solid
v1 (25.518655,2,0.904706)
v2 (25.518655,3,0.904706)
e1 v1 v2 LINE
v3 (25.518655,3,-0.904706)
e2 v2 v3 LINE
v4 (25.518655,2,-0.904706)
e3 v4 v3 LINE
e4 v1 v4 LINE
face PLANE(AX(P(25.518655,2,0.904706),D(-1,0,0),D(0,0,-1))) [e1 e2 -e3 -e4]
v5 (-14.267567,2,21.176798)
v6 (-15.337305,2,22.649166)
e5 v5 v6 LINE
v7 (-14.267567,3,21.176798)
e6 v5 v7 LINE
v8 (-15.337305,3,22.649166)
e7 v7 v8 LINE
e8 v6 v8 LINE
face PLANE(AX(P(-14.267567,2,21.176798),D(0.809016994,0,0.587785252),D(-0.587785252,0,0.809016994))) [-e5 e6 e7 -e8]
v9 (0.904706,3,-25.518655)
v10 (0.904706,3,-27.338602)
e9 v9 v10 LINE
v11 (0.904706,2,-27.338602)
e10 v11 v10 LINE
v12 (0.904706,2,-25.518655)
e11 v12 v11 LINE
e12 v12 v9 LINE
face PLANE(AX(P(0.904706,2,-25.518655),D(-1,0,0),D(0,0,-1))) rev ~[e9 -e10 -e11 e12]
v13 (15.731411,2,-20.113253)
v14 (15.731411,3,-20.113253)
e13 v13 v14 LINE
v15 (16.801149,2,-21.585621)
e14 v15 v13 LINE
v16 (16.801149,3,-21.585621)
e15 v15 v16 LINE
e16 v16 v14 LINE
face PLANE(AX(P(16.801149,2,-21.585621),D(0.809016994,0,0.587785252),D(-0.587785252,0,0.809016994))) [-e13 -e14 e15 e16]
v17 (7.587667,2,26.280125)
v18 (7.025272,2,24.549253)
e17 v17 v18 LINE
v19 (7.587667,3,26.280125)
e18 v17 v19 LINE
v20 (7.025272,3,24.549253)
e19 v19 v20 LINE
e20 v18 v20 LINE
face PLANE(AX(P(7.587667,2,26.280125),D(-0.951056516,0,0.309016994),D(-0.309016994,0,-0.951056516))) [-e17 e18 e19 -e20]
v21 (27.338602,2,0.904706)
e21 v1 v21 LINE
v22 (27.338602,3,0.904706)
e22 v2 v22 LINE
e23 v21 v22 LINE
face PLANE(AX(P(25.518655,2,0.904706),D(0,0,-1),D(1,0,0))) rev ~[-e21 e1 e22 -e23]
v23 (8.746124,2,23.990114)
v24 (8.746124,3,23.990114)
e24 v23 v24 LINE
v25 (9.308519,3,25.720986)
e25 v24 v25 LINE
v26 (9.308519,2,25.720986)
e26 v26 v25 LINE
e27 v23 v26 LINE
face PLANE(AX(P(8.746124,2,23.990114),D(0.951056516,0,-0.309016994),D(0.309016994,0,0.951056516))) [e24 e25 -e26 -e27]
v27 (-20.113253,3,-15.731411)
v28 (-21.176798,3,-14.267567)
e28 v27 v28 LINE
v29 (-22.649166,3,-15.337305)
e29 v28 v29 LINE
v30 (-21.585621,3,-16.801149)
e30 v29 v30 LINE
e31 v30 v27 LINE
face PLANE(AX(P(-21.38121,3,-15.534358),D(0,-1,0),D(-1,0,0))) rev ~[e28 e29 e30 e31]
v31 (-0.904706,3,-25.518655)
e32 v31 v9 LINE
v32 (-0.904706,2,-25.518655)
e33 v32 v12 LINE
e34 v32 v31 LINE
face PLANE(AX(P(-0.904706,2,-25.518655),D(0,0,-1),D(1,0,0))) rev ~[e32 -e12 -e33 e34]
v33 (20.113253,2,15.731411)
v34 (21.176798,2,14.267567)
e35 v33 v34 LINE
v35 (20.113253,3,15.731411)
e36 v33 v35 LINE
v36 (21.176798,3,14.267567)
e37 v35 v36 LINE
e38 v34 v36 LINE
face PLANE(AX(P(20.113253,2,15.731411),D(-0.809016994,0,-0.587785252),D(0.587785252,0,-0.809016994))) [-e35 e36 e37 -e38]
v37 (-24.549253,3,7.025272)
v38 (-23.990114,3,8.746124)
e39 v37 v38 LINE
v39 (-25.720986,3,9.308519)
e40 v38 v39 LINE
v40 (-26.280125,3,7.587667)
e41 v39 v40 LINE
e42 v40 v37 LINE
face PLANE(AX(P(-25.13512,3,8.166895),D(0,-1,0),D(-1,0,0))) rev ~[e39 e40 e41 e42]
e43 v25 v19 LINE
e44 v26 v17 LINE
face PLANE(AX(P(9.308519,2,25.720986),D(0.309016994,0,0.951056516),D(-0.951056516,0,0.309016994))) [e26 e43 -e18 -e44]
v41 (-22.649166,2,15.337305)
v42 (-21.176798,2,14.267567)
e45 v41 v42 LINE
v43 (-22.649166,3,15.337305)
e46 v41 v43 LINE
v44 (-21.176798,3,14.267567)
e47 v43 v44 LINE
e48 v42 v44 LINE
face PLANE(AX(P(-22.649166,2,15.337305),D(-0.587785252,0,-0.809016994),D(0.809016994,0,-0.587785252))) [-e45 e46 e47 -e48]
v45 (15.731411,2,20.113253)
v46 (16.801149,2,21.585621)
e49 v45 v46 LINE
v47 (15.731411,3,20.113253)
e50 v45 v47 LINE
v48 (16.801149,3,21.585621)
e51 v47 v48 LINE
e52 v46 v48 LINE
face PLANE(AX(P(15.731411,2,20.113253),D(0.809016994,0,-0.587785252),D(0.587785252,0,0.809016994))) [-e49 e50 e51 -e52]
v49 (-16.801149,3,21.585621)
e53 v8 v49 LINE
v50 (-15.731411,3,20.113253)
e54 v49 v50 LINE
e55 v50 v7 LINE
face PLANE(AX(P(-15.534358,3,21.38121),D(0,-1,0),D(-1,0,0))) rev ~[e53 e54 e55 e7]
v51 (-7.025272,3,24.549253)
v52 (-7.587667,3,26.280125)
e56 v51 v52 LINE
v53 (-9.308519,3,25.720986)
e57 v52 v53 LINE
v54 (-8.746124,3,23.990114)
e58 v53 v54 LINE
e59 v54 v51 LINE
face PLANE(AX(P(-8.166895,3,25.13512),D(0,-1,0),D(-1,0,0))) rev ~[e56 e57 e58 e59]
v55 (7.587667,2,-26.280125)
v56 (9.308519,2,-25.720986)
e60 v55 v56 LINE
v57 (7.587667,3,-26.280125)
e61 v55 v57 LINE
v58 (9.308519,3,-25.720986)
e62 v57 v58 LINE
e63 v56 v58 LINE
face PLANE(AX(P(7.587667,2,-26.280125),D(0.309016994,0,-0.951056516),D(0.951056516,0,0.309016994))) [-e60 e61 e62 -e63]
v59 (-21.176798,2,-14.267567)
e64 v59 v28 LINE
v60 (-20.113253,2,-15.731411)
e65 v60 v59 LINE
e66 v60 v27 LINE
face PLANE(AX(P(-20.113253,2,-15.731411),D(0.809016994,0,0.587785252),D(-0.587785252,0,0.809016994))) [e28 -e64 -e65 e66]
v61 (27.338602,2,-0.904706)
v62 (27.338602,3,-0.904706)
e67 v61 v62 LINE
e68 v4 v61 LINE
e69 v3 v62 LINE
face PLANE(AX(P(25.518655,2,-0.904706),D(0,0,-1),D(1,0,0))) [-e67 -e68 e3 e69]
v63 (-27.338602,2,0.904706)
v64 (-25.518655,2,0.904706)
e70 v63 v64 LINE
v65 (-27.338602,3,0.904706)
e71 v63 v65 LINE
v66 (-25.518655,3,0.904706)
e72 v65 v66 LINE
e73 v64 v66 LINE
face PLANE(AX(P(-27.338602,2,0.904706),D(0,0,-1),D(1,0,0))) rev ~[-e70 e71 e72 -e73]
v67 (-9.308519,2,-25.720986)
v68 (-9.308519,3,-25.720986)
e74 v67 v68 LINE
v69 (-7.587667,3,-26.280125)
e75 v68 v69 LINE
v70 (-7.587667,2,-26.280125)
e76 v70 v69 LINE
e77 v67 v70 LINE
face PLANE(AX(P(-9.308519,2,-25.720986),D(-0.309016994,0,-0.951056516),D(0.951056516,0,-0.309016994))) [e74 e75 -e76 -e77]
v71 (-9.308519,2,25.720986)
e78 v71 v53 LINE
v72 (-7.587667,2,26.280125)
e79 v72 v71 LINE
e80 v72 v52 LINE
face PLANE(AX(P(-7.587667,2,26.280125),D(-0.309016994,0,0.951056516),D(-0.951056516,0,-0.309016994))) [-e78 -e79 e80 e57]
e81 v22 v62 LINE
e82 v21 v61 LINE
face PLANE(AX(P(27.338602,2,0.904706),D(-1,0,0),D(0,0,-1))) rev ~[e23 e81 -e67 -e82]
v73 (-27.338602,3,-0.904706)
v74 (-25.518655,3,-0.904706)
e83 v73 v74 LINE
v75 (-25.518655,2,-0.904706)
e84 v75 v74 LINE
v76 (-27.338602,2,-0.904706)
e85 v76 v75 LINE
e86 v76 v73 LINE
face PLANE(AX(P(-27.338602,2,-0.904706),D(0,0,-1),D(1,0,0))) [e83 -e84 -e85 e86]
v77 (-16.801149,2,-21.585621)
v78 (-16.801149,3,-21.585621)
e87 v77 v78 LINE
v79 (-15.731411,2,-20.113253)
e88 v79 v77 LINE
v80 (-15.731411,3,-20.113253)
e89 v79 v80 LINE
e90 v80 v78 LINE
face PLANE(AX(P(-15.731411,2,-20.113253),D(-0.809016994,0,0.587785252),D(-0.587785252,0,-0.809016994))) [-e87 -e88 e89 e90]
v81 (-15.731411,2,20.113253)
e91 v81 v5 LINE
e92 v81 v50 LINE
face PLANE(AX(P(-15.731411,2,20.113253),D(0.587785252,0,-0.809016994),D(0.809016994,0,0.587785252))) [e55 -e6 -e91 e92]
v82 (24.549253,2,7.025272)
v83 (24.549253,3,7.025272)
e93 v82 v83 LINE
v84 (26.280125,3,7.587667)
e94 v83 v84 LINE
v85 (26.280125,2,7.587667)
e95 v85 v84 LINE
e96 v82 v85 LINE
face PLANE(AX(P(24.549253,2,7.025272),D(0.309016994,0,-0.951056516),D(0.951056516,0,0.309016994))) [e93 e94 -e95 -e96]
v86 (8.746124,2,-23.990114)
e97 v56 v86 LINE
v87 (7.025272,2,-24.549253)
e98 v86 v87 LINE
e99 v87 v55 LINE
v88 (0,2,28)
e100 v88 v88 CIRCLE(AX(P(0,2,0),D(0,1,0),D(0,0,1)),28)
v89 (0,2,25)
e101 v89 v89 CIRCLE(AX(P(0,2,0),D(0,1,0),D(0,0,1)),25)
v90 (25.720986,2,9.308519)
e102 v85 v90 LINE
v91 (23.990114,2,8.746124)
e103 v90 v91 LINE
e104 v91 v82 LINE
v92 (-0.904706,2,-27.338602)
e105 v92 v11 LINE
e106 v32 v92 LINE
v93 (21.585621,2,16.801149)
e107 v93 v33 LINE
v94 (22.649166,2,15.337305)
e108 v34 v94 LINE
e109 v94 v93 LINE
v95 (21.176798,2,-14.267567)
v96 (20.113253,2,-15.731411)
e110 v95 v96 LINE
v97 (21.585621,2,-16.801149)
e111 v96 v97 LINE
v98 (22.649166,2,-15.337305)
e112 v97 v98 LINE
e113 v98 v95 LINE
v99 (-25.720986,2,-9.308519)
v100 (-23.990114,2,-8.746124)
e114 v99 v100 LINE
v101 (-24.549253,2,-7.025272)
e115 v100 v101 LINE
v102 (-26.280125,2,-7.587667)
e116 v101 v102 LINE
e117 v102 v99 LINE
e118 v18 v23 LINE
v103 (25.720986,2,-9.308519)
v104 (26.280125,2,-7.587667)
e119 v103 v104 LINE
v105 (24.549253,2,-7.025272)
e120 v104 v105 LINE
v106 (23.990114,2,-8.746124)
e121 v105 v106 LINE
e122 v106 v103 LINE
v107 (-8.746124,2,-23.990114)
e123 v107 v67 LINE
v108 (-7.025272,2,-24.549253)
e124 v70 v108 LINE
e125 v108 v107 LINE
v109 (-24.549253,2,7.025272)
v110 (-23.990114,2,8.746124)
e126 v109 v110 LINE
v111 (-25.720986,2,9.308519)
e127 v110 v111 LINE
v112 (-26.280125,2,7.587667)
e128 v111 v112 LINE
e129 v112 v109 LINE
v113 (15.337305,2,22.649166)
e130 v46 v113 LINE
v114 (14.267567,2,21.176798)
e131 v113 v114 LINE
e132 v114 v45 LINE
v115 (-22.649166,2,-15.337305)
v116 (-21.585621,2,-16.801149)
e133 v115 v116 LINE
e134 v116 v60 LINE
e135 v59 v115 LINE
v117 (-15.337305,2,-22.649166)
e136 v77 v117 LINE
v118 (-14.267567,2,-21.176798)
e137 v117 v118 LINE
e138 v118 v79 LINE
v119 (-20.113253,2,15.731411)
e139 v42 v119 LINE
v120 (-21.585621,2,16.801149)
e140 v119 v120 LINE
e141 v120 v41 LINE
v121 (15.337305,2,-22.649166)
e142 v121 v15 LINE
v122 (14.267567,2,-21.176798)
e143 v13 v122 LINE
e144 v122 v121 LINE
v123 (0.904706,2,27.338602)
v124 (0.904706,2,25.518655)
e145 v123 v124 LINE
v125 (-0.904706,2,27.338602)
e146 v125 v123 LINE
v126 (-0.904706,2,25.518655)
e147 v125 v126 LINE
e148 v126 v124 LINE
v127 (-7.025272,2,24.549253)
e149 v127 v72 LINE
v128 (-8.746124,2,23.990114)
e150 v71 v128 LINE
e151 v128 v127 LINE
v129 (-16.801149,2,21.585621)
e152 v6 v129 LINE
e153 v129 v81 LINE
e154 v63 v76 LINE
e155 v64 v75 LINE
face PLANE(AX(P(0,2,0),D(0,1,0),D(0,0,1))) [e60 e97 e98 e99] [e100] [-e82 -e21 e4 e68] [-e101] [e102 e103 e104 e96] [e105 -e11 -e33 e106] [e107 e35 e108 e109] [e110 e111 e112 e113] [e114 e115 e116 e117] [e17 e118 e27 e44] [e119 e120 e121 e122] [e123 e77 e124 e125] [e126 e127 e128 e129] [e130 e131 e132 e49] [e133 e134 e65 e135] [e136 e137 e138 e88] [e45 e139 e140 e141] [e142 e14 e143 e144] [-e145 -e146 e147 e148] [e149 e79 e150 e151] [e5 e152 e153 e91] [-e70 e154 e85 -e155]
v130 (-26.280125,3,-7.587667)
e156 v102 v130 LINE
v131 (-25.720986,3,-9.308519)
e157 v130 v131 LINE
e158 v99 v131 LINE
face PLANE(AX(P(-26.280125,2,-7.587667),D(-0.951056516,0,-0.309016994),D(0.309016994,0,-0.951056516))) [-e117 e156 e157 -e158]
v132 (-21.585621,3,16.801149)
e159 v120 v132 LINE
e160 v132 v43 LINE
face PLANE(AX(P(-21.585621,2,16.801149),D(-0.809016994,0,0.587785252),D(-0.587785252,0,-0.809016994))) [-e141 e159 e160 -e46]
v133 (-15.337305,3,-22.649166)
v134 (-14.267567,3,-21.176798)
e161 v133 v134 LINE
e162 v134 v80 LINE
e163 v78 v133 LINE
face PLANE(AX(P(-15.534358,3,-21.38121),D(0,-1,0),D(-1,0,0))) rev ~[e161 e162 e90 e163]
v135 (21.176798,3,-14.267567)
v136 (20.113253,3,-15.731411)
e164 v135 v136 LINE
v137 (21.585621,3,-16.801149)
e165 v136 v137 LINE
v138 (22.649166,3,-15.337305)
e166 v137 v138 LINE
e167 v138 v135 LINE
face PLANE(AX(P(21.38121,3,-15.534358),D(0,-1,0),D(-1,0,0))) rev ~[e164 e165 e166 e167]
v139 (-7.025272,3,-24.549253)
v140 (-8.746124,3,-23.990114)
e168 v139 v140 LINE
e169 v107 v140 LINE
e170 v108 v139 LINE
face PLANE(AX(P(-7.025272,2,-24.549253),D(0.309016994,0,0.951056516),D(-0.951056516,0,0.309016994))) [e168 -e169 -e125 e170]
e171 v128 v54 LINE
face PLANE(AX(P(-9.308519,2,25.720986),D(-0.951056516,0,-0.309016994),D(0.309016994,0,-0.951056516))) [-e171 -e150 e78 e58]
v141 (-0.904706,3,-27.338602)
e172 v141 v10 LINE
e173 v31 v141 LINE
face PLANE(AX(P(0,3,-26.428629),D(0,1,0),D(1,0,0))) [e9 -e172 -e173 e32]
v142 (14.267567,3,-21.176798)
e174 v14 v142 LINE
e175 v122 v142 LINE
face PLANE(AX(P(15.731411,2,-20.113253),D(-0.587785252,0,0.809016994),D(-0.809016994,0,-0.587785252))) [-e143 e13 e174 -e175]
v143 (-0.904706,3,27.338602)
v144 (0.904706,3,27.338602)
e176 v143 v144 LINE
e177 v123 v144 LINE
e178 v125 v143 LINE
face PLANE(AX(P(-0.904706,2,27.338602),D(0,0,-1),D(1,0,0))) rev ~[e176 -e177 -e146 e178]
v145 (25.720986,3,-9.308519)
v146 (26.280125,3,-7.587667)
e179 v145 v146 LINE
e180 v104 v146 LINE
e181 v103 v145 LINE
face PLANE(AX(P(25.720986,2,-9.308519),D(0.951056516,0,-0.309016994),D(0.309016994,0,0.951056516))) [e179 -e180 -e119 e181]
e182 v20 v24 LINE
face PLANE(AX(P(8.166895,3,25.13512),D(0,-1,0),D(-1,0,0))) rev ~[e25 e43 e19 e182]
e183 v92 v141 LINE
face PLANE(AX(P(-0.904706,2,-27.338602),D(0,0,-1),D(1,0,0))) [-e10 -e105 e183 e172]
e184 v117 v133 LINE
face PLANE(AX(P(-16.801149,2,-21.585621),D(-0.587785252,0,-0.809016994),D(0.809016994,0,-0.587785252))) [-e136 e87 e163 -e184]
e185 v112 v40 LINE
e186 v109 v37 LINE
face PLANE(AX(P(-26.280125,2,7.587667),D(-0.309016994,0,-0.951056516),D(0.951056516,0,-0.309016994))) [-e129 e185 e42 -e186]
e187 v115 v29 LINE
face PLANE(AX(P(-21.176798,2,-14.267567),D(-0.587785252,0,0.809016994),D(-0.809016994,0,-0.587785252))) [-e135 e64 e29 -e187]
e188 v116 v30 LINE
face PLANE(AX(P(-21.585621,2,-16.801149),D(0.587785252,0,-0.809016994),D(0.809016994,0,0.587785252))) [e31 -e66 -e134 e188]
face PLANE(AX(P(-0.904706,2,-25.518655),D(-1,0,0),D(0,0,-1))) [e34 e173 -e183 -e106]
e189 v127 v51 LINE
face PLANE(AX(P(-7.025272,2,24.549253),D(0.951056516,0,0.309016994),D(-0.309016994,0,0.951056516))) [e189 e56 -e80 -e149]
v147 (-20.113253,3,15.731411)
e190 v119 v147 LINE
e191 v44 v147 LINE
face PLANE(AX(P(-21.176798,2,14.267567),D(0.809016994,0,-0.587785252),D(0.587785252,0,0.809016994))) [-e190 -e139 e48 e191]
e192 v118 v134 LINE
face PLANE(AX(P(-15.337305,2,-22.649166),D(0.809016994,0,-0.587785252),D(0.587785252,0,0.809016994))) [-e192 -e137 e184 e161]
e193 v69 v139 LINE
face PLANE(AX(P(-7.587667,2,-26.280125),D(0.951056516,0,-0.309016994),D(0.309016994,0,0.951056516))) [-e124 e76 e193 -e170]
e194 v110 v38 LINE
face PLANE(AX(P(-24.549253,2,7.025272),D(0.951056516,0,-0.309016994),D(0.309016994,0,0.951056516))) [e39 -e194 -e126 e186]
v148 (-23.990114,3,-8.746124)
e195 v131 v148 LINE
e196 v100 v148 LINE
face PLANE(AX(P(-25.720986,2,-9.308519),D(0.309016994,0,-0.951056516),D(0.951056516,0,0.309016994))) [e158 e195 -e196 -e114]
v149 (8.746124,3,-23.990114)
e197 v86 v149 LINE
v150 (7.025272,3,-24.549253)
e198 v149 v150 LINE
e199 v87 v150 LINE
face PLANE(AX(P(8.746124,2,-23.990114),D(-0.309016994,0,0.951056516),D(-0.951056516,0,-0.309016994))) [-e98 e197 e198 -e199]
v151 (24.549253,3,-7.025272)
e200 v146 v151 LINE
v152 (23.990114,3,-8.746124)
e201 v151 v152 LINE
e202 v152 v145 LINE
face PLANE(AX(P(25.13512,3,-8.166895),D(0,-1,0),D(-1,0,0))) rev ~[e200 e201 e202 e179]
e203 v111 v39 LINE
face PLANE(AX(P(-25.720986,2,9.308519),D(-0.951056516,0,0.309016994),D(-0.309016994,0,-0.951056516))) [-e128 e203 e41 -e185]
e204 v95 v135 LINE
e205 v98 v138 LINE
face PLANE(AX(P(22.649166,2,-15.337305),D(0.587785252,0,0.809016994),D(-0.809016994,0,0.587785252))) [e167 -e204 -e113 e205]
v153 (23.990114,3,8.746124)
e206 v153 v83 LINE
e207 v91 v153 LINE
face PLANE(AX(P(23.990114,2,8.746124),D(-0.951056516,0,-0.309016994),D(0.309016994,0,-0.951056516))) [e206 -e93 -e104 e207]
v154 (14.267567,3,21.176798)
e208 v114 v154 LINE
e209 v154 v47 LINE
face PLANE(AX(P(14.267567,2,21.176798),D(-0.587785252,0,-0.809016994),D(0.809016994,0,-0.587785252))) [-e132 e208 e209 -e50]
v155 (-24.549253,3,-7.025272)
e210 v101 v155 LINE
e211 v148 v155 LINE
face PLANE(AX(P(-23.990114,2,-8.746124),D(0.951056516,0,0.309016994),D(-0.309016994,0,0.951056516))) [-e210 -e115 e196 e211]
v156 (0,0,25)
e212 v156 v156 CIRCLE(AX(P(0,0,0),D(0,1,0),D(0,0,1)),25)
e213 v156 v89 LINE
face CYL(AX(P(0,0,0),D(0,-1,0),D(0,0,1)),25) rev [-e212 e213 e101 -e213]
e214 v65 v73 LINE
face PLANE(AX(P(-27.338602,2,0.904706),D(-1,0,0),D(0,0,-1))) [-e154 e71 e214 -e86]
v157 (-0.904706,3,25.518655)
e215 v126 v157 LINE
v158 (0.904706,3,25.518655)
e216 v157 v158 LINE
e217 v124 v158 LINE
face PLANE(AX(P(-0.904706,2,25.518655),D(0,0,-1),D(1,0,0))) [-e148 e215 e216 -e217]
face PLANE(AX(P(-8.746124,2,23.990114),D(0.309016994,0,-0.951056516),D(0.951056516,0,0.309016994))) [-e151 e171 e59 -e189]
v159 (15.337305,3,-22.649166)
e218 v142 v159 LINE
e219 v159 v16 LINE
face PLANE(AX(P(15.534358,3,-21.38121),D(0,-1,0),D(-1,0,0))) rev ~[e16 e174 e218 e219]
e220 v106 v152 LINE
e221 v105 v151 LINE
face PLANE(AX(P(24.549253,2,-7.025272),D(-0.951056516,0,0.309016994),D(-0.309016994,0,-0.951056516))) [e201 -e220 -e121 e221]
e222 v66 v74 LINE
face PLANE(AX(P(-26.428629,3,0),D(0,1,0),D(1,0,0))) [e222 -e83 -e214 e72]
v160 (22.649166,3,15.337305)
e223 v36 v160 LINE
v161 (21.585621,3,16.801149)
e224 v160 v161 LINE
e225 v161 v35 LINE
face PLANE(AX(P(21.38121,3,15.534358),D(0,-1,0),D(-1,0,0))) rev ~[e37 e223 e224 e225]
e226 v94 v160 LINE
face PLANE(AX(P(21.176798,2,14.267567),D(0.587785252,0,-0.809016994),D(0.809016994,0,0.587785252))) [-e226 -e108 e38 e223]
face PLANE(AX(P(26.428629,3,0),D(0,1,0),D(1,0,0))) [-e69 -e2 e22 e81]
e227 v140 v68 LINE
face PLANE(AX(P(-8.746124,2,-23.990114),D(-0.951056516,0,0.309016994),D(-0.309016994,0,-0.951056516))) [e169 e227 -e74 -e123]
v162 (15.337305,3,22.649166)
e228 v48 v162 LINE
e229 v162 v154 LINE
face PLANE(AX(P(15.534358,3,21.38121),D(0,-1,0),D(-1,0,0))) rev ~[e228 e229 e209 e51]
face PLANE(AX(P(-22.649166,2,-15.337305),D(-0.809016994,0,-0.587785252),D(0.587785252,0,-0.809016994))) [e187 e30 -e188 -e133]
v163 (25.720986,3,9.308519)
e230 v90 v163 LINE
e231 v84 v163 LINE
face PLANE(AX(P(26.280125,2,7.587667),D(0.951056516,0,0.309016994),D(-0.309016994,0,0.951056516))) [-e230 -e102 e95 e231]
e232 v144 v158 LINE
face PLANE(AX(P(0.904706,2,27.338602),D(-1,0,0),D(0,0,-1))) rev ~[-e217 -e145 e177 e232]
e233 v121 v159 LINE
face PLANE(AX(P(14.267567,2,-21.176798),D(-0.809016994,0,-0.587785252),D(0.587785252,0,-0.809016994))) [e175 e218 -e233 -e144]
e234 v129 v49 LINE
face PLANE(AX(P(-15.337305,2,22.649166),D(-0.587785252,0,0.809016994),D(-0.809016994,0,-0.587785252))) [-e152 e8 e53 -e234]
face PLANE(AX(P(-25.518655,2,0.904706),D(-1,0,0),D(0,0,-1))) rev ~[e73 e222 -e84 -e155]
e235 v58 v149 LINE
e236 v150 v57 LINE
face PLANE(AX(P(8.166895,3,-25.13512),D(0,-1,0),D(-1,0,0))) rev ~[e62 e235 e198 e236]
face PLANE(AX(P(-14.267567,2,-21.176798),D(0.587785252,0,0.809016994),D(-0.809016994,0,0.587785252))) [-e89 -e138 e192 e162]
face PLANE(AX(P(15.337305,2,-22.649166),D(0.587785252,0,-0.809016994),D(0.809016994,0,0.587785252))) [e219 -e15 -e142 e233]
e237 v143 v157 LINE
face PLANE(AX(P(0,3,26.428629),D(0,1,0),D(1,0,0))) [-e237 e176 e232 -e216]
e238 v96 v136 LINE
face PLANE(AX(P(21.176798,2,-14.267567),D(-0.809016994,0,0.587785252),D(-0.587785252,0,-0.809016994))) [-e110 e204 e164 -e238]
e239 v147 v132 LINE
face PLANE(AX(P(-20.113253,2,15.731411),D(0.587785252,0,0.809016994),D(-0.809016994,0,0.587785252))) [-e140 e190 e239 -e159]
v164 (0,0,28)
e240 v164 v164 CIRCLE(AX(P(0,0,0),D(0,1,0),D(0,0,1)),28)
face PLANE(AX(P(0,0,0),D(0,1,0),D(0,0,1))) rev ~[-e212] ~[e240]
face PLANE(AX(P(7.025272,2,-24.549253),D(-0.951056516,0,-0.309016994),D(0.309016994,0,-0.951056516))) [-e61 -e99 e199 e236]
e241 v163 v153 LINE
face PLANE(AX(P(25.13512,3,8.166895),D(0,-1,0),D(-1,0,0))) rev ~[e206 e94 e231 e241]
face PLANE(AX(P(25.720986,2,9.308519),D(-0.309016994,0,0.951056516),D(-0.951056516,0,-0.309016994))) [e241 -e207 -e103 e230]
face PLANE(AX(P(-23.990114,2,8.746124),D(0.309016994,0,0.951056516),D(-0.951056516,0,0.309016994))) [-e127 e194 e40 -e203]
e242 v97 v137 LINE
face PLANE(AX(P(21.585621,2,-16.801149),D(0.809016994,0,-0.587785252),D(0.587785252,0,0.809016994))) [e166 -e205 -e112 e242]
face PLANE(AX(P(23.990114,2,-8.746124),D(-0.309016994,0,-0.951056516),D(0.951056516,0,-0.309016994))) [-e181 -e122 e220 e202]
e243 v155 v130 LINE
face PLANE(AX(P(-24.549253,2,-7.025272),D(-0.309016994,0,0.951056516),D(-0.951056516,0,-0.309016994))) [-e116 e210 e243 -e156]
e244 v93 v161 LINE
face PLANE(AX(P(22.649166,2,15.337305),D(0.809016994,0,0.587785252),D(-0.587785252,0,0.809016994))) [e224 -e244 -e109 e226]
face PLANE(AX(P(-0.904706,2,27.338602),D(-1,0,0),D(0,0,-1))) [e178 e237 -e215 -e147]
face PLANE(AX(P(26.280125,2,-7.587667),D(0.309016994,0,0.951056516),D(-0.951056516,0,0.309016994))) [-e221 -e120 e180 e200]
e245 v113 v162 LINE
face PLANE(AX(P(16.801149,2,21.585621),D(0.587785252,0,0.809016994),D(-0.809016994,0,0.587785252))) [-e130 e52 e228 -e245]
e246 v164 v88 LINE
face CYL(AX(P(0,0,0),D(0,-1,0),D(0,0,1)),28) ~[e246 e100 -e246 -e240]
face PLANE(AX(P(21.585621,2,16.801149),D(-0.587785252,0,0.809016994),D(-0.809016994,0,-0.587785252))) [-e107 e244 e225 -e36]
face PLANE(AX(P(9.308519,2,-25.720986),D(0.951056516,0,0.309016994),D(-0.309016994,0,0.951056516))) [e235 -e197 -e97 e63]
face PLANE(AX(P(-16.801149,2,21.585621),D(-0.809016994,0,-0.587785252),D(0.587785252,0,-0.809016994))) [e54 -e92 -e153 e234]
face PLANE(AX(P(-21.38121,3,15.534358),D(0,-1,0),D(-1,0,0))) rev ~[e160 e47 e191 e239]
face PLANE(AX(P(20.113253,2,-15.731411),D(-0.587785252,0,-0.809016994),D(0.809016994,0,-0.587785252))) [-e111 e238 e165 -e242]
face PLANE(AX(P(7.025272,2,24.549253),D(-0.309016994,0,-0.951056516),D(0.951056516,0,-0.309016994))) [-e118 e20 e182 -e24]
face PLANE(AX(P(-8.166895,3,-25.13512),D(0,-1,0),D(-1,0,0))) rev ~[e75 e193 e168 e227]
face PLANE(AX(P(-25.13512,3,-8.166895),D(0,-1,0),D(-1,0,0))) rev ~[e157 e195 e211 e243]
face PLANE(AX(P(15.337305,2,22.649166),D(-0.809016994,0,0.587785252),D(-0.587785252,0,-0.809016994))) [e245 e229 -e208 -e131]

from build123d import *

# Parameters (mm, degrees)
SKETCH_1_R      = 28
SKETCH_1_R_2    = 25
EXTRUDE_1_DEPTH = 2
SKETCH_2_W      = 1.809411118
SKETCH_2_H      = 1.819947288
SKETCH_2_W_2    = 1.819947288
SKETCH_2_H_2    = 1.809411118
EXTRUDE_2_DEPTH = 1


with BuildPart() as part:
    # 草图1 → 凸台-拉伸1 (new body)
    with BuildSketch(Plane(origin=(0, 0, 0), x_dir=(1, 0, 0), z_dir=(0, 1, 0))):
        with Locations(Location((0, 0, 0), (0, 0, 270))):
            Circle(SKETCH_1_R)
        with Locations(Location((0, 0, 0), (0, 0, 270))):
            Circle(SKETCH_1_R_2, mode=Mode.SUBTRACT)
    extrude(amount=EXTRUDE_1_DEPTH)

    # 草图2 → 凸台-拉伸2 (add)
    with BuildSketch(Plane(origin=(0, 2, 0), x_dir=(1, 0, 0), z_dir=(0, 1, 0))):
        Polygon((7.587666599, 26.280125266), (9.308518833, 25.720986481), (8.746124192, 23.990113753), (7.025271959, 24.549252538), align=None)
        with Locations((0, 26.428628666)):
            Rectangle(SKETCH_2_W, SKETCH_2_H)
        Polygon((15.337305084, 22.649166456), (16.801149428, 21.585621286), (15.731411252, 20.113253001), (14.267566908, 21.176798171), align=None)
        Polygon((21.585621286, 16.801149428), (22.649166456, 15.337305084), (21.176798171, 14.267566908), (20.113253001, 15.731411252), align=None)
        Polygon((25.720986481, 9.308518833), (26.280125266, 7.587666599), (24.549252538, 7.025271959), (23.990113753, 8.746124192), align=None)
        with Locations((26.428628666, 0)):
            Rectangle(SKETCH_2_W_2, SKETCH_2_H_2)
        Polygon((26.280125266, -7.587666599), (25.720986481, -9.308518833), (23.990113753, -8.746124192), (24.549252538, -7.025271959), align=None)
        Polygon((22.649166456, -15.337305084), (21.585621286, -16.801149428), (20.113253001, -15.731411252), (21.176798171, -14.267566908), align=None)
        Polygon((16.801149428, -21.585621286), (15.337305084, -22.649166456), (14.267566908, -21.176798171), (15.731411252, -20.113253001), align=None)
        Polygon((9.308518833, -25.720986481), (7.587666599, -26.280125266), (7.025271959, -24.549252538), (8.746124192, -23.990113753), align=None)
        with Locations((0, -26.428628666)):
            Rectangle(SKETCH_2_W, SKETCH_2_H)
        Polygon((-7.587666599, -26.280125266), (-9.308518833, -25.720986481), (-8.746124192, -23.990113753), (-7.025271959, -24.549252538), align=None)
        Polygon((-15.337305084, -22.649166456), (-16.801149428, -21.585621286), (-15.731411252, -20.113253001), (-14.267566908, -21.176798171), align=None)
        Polygon((-21.585621286, -16.801149428), (-22.649166456, -15.337305084), (-21.176798171, -14.267566908), (-20.113253001, -15.731411252), align=None)
        Polygon((-25.720986481, -9.308518833), (-26.280125266, -7.587666599), (-24.549252538, -7.025271959), (-23.990113753, -8.746124192), align=None)
        with Locations((-26.428628666, 0)):
            Rectangle(SKETCH_2_W_2, SKETCH_2_H_2)
        Polygon((-26.280125266, 7.587666599), (-25.720986481, 9.308518833), (-23.990113753, 8.746124192), (-24.549252538, 7.025271959), align=None)
        Polygon((-22.649166456, 15.337305084), (-21.585621286, 16.801149428), (-20.113253001, 15.731411252), (-21.176798171, 14.267566908), align=None)
        Polygon((-16.801149428, 21.585621286), (-15.337305084, 22.649166456), (-14.267566908, 21.176798171), (-15.731411252, 20.113253001), align=None)
        Polygon((-9.308518833, 25.720986481), (-7.587666599, 26.280125266), (-7.025271959, 24.549252538), (-8.746124192, 23.990113753), align=None)
    extrude(amount=EXTRUDE_2_DEPTH)


solid = part.part
